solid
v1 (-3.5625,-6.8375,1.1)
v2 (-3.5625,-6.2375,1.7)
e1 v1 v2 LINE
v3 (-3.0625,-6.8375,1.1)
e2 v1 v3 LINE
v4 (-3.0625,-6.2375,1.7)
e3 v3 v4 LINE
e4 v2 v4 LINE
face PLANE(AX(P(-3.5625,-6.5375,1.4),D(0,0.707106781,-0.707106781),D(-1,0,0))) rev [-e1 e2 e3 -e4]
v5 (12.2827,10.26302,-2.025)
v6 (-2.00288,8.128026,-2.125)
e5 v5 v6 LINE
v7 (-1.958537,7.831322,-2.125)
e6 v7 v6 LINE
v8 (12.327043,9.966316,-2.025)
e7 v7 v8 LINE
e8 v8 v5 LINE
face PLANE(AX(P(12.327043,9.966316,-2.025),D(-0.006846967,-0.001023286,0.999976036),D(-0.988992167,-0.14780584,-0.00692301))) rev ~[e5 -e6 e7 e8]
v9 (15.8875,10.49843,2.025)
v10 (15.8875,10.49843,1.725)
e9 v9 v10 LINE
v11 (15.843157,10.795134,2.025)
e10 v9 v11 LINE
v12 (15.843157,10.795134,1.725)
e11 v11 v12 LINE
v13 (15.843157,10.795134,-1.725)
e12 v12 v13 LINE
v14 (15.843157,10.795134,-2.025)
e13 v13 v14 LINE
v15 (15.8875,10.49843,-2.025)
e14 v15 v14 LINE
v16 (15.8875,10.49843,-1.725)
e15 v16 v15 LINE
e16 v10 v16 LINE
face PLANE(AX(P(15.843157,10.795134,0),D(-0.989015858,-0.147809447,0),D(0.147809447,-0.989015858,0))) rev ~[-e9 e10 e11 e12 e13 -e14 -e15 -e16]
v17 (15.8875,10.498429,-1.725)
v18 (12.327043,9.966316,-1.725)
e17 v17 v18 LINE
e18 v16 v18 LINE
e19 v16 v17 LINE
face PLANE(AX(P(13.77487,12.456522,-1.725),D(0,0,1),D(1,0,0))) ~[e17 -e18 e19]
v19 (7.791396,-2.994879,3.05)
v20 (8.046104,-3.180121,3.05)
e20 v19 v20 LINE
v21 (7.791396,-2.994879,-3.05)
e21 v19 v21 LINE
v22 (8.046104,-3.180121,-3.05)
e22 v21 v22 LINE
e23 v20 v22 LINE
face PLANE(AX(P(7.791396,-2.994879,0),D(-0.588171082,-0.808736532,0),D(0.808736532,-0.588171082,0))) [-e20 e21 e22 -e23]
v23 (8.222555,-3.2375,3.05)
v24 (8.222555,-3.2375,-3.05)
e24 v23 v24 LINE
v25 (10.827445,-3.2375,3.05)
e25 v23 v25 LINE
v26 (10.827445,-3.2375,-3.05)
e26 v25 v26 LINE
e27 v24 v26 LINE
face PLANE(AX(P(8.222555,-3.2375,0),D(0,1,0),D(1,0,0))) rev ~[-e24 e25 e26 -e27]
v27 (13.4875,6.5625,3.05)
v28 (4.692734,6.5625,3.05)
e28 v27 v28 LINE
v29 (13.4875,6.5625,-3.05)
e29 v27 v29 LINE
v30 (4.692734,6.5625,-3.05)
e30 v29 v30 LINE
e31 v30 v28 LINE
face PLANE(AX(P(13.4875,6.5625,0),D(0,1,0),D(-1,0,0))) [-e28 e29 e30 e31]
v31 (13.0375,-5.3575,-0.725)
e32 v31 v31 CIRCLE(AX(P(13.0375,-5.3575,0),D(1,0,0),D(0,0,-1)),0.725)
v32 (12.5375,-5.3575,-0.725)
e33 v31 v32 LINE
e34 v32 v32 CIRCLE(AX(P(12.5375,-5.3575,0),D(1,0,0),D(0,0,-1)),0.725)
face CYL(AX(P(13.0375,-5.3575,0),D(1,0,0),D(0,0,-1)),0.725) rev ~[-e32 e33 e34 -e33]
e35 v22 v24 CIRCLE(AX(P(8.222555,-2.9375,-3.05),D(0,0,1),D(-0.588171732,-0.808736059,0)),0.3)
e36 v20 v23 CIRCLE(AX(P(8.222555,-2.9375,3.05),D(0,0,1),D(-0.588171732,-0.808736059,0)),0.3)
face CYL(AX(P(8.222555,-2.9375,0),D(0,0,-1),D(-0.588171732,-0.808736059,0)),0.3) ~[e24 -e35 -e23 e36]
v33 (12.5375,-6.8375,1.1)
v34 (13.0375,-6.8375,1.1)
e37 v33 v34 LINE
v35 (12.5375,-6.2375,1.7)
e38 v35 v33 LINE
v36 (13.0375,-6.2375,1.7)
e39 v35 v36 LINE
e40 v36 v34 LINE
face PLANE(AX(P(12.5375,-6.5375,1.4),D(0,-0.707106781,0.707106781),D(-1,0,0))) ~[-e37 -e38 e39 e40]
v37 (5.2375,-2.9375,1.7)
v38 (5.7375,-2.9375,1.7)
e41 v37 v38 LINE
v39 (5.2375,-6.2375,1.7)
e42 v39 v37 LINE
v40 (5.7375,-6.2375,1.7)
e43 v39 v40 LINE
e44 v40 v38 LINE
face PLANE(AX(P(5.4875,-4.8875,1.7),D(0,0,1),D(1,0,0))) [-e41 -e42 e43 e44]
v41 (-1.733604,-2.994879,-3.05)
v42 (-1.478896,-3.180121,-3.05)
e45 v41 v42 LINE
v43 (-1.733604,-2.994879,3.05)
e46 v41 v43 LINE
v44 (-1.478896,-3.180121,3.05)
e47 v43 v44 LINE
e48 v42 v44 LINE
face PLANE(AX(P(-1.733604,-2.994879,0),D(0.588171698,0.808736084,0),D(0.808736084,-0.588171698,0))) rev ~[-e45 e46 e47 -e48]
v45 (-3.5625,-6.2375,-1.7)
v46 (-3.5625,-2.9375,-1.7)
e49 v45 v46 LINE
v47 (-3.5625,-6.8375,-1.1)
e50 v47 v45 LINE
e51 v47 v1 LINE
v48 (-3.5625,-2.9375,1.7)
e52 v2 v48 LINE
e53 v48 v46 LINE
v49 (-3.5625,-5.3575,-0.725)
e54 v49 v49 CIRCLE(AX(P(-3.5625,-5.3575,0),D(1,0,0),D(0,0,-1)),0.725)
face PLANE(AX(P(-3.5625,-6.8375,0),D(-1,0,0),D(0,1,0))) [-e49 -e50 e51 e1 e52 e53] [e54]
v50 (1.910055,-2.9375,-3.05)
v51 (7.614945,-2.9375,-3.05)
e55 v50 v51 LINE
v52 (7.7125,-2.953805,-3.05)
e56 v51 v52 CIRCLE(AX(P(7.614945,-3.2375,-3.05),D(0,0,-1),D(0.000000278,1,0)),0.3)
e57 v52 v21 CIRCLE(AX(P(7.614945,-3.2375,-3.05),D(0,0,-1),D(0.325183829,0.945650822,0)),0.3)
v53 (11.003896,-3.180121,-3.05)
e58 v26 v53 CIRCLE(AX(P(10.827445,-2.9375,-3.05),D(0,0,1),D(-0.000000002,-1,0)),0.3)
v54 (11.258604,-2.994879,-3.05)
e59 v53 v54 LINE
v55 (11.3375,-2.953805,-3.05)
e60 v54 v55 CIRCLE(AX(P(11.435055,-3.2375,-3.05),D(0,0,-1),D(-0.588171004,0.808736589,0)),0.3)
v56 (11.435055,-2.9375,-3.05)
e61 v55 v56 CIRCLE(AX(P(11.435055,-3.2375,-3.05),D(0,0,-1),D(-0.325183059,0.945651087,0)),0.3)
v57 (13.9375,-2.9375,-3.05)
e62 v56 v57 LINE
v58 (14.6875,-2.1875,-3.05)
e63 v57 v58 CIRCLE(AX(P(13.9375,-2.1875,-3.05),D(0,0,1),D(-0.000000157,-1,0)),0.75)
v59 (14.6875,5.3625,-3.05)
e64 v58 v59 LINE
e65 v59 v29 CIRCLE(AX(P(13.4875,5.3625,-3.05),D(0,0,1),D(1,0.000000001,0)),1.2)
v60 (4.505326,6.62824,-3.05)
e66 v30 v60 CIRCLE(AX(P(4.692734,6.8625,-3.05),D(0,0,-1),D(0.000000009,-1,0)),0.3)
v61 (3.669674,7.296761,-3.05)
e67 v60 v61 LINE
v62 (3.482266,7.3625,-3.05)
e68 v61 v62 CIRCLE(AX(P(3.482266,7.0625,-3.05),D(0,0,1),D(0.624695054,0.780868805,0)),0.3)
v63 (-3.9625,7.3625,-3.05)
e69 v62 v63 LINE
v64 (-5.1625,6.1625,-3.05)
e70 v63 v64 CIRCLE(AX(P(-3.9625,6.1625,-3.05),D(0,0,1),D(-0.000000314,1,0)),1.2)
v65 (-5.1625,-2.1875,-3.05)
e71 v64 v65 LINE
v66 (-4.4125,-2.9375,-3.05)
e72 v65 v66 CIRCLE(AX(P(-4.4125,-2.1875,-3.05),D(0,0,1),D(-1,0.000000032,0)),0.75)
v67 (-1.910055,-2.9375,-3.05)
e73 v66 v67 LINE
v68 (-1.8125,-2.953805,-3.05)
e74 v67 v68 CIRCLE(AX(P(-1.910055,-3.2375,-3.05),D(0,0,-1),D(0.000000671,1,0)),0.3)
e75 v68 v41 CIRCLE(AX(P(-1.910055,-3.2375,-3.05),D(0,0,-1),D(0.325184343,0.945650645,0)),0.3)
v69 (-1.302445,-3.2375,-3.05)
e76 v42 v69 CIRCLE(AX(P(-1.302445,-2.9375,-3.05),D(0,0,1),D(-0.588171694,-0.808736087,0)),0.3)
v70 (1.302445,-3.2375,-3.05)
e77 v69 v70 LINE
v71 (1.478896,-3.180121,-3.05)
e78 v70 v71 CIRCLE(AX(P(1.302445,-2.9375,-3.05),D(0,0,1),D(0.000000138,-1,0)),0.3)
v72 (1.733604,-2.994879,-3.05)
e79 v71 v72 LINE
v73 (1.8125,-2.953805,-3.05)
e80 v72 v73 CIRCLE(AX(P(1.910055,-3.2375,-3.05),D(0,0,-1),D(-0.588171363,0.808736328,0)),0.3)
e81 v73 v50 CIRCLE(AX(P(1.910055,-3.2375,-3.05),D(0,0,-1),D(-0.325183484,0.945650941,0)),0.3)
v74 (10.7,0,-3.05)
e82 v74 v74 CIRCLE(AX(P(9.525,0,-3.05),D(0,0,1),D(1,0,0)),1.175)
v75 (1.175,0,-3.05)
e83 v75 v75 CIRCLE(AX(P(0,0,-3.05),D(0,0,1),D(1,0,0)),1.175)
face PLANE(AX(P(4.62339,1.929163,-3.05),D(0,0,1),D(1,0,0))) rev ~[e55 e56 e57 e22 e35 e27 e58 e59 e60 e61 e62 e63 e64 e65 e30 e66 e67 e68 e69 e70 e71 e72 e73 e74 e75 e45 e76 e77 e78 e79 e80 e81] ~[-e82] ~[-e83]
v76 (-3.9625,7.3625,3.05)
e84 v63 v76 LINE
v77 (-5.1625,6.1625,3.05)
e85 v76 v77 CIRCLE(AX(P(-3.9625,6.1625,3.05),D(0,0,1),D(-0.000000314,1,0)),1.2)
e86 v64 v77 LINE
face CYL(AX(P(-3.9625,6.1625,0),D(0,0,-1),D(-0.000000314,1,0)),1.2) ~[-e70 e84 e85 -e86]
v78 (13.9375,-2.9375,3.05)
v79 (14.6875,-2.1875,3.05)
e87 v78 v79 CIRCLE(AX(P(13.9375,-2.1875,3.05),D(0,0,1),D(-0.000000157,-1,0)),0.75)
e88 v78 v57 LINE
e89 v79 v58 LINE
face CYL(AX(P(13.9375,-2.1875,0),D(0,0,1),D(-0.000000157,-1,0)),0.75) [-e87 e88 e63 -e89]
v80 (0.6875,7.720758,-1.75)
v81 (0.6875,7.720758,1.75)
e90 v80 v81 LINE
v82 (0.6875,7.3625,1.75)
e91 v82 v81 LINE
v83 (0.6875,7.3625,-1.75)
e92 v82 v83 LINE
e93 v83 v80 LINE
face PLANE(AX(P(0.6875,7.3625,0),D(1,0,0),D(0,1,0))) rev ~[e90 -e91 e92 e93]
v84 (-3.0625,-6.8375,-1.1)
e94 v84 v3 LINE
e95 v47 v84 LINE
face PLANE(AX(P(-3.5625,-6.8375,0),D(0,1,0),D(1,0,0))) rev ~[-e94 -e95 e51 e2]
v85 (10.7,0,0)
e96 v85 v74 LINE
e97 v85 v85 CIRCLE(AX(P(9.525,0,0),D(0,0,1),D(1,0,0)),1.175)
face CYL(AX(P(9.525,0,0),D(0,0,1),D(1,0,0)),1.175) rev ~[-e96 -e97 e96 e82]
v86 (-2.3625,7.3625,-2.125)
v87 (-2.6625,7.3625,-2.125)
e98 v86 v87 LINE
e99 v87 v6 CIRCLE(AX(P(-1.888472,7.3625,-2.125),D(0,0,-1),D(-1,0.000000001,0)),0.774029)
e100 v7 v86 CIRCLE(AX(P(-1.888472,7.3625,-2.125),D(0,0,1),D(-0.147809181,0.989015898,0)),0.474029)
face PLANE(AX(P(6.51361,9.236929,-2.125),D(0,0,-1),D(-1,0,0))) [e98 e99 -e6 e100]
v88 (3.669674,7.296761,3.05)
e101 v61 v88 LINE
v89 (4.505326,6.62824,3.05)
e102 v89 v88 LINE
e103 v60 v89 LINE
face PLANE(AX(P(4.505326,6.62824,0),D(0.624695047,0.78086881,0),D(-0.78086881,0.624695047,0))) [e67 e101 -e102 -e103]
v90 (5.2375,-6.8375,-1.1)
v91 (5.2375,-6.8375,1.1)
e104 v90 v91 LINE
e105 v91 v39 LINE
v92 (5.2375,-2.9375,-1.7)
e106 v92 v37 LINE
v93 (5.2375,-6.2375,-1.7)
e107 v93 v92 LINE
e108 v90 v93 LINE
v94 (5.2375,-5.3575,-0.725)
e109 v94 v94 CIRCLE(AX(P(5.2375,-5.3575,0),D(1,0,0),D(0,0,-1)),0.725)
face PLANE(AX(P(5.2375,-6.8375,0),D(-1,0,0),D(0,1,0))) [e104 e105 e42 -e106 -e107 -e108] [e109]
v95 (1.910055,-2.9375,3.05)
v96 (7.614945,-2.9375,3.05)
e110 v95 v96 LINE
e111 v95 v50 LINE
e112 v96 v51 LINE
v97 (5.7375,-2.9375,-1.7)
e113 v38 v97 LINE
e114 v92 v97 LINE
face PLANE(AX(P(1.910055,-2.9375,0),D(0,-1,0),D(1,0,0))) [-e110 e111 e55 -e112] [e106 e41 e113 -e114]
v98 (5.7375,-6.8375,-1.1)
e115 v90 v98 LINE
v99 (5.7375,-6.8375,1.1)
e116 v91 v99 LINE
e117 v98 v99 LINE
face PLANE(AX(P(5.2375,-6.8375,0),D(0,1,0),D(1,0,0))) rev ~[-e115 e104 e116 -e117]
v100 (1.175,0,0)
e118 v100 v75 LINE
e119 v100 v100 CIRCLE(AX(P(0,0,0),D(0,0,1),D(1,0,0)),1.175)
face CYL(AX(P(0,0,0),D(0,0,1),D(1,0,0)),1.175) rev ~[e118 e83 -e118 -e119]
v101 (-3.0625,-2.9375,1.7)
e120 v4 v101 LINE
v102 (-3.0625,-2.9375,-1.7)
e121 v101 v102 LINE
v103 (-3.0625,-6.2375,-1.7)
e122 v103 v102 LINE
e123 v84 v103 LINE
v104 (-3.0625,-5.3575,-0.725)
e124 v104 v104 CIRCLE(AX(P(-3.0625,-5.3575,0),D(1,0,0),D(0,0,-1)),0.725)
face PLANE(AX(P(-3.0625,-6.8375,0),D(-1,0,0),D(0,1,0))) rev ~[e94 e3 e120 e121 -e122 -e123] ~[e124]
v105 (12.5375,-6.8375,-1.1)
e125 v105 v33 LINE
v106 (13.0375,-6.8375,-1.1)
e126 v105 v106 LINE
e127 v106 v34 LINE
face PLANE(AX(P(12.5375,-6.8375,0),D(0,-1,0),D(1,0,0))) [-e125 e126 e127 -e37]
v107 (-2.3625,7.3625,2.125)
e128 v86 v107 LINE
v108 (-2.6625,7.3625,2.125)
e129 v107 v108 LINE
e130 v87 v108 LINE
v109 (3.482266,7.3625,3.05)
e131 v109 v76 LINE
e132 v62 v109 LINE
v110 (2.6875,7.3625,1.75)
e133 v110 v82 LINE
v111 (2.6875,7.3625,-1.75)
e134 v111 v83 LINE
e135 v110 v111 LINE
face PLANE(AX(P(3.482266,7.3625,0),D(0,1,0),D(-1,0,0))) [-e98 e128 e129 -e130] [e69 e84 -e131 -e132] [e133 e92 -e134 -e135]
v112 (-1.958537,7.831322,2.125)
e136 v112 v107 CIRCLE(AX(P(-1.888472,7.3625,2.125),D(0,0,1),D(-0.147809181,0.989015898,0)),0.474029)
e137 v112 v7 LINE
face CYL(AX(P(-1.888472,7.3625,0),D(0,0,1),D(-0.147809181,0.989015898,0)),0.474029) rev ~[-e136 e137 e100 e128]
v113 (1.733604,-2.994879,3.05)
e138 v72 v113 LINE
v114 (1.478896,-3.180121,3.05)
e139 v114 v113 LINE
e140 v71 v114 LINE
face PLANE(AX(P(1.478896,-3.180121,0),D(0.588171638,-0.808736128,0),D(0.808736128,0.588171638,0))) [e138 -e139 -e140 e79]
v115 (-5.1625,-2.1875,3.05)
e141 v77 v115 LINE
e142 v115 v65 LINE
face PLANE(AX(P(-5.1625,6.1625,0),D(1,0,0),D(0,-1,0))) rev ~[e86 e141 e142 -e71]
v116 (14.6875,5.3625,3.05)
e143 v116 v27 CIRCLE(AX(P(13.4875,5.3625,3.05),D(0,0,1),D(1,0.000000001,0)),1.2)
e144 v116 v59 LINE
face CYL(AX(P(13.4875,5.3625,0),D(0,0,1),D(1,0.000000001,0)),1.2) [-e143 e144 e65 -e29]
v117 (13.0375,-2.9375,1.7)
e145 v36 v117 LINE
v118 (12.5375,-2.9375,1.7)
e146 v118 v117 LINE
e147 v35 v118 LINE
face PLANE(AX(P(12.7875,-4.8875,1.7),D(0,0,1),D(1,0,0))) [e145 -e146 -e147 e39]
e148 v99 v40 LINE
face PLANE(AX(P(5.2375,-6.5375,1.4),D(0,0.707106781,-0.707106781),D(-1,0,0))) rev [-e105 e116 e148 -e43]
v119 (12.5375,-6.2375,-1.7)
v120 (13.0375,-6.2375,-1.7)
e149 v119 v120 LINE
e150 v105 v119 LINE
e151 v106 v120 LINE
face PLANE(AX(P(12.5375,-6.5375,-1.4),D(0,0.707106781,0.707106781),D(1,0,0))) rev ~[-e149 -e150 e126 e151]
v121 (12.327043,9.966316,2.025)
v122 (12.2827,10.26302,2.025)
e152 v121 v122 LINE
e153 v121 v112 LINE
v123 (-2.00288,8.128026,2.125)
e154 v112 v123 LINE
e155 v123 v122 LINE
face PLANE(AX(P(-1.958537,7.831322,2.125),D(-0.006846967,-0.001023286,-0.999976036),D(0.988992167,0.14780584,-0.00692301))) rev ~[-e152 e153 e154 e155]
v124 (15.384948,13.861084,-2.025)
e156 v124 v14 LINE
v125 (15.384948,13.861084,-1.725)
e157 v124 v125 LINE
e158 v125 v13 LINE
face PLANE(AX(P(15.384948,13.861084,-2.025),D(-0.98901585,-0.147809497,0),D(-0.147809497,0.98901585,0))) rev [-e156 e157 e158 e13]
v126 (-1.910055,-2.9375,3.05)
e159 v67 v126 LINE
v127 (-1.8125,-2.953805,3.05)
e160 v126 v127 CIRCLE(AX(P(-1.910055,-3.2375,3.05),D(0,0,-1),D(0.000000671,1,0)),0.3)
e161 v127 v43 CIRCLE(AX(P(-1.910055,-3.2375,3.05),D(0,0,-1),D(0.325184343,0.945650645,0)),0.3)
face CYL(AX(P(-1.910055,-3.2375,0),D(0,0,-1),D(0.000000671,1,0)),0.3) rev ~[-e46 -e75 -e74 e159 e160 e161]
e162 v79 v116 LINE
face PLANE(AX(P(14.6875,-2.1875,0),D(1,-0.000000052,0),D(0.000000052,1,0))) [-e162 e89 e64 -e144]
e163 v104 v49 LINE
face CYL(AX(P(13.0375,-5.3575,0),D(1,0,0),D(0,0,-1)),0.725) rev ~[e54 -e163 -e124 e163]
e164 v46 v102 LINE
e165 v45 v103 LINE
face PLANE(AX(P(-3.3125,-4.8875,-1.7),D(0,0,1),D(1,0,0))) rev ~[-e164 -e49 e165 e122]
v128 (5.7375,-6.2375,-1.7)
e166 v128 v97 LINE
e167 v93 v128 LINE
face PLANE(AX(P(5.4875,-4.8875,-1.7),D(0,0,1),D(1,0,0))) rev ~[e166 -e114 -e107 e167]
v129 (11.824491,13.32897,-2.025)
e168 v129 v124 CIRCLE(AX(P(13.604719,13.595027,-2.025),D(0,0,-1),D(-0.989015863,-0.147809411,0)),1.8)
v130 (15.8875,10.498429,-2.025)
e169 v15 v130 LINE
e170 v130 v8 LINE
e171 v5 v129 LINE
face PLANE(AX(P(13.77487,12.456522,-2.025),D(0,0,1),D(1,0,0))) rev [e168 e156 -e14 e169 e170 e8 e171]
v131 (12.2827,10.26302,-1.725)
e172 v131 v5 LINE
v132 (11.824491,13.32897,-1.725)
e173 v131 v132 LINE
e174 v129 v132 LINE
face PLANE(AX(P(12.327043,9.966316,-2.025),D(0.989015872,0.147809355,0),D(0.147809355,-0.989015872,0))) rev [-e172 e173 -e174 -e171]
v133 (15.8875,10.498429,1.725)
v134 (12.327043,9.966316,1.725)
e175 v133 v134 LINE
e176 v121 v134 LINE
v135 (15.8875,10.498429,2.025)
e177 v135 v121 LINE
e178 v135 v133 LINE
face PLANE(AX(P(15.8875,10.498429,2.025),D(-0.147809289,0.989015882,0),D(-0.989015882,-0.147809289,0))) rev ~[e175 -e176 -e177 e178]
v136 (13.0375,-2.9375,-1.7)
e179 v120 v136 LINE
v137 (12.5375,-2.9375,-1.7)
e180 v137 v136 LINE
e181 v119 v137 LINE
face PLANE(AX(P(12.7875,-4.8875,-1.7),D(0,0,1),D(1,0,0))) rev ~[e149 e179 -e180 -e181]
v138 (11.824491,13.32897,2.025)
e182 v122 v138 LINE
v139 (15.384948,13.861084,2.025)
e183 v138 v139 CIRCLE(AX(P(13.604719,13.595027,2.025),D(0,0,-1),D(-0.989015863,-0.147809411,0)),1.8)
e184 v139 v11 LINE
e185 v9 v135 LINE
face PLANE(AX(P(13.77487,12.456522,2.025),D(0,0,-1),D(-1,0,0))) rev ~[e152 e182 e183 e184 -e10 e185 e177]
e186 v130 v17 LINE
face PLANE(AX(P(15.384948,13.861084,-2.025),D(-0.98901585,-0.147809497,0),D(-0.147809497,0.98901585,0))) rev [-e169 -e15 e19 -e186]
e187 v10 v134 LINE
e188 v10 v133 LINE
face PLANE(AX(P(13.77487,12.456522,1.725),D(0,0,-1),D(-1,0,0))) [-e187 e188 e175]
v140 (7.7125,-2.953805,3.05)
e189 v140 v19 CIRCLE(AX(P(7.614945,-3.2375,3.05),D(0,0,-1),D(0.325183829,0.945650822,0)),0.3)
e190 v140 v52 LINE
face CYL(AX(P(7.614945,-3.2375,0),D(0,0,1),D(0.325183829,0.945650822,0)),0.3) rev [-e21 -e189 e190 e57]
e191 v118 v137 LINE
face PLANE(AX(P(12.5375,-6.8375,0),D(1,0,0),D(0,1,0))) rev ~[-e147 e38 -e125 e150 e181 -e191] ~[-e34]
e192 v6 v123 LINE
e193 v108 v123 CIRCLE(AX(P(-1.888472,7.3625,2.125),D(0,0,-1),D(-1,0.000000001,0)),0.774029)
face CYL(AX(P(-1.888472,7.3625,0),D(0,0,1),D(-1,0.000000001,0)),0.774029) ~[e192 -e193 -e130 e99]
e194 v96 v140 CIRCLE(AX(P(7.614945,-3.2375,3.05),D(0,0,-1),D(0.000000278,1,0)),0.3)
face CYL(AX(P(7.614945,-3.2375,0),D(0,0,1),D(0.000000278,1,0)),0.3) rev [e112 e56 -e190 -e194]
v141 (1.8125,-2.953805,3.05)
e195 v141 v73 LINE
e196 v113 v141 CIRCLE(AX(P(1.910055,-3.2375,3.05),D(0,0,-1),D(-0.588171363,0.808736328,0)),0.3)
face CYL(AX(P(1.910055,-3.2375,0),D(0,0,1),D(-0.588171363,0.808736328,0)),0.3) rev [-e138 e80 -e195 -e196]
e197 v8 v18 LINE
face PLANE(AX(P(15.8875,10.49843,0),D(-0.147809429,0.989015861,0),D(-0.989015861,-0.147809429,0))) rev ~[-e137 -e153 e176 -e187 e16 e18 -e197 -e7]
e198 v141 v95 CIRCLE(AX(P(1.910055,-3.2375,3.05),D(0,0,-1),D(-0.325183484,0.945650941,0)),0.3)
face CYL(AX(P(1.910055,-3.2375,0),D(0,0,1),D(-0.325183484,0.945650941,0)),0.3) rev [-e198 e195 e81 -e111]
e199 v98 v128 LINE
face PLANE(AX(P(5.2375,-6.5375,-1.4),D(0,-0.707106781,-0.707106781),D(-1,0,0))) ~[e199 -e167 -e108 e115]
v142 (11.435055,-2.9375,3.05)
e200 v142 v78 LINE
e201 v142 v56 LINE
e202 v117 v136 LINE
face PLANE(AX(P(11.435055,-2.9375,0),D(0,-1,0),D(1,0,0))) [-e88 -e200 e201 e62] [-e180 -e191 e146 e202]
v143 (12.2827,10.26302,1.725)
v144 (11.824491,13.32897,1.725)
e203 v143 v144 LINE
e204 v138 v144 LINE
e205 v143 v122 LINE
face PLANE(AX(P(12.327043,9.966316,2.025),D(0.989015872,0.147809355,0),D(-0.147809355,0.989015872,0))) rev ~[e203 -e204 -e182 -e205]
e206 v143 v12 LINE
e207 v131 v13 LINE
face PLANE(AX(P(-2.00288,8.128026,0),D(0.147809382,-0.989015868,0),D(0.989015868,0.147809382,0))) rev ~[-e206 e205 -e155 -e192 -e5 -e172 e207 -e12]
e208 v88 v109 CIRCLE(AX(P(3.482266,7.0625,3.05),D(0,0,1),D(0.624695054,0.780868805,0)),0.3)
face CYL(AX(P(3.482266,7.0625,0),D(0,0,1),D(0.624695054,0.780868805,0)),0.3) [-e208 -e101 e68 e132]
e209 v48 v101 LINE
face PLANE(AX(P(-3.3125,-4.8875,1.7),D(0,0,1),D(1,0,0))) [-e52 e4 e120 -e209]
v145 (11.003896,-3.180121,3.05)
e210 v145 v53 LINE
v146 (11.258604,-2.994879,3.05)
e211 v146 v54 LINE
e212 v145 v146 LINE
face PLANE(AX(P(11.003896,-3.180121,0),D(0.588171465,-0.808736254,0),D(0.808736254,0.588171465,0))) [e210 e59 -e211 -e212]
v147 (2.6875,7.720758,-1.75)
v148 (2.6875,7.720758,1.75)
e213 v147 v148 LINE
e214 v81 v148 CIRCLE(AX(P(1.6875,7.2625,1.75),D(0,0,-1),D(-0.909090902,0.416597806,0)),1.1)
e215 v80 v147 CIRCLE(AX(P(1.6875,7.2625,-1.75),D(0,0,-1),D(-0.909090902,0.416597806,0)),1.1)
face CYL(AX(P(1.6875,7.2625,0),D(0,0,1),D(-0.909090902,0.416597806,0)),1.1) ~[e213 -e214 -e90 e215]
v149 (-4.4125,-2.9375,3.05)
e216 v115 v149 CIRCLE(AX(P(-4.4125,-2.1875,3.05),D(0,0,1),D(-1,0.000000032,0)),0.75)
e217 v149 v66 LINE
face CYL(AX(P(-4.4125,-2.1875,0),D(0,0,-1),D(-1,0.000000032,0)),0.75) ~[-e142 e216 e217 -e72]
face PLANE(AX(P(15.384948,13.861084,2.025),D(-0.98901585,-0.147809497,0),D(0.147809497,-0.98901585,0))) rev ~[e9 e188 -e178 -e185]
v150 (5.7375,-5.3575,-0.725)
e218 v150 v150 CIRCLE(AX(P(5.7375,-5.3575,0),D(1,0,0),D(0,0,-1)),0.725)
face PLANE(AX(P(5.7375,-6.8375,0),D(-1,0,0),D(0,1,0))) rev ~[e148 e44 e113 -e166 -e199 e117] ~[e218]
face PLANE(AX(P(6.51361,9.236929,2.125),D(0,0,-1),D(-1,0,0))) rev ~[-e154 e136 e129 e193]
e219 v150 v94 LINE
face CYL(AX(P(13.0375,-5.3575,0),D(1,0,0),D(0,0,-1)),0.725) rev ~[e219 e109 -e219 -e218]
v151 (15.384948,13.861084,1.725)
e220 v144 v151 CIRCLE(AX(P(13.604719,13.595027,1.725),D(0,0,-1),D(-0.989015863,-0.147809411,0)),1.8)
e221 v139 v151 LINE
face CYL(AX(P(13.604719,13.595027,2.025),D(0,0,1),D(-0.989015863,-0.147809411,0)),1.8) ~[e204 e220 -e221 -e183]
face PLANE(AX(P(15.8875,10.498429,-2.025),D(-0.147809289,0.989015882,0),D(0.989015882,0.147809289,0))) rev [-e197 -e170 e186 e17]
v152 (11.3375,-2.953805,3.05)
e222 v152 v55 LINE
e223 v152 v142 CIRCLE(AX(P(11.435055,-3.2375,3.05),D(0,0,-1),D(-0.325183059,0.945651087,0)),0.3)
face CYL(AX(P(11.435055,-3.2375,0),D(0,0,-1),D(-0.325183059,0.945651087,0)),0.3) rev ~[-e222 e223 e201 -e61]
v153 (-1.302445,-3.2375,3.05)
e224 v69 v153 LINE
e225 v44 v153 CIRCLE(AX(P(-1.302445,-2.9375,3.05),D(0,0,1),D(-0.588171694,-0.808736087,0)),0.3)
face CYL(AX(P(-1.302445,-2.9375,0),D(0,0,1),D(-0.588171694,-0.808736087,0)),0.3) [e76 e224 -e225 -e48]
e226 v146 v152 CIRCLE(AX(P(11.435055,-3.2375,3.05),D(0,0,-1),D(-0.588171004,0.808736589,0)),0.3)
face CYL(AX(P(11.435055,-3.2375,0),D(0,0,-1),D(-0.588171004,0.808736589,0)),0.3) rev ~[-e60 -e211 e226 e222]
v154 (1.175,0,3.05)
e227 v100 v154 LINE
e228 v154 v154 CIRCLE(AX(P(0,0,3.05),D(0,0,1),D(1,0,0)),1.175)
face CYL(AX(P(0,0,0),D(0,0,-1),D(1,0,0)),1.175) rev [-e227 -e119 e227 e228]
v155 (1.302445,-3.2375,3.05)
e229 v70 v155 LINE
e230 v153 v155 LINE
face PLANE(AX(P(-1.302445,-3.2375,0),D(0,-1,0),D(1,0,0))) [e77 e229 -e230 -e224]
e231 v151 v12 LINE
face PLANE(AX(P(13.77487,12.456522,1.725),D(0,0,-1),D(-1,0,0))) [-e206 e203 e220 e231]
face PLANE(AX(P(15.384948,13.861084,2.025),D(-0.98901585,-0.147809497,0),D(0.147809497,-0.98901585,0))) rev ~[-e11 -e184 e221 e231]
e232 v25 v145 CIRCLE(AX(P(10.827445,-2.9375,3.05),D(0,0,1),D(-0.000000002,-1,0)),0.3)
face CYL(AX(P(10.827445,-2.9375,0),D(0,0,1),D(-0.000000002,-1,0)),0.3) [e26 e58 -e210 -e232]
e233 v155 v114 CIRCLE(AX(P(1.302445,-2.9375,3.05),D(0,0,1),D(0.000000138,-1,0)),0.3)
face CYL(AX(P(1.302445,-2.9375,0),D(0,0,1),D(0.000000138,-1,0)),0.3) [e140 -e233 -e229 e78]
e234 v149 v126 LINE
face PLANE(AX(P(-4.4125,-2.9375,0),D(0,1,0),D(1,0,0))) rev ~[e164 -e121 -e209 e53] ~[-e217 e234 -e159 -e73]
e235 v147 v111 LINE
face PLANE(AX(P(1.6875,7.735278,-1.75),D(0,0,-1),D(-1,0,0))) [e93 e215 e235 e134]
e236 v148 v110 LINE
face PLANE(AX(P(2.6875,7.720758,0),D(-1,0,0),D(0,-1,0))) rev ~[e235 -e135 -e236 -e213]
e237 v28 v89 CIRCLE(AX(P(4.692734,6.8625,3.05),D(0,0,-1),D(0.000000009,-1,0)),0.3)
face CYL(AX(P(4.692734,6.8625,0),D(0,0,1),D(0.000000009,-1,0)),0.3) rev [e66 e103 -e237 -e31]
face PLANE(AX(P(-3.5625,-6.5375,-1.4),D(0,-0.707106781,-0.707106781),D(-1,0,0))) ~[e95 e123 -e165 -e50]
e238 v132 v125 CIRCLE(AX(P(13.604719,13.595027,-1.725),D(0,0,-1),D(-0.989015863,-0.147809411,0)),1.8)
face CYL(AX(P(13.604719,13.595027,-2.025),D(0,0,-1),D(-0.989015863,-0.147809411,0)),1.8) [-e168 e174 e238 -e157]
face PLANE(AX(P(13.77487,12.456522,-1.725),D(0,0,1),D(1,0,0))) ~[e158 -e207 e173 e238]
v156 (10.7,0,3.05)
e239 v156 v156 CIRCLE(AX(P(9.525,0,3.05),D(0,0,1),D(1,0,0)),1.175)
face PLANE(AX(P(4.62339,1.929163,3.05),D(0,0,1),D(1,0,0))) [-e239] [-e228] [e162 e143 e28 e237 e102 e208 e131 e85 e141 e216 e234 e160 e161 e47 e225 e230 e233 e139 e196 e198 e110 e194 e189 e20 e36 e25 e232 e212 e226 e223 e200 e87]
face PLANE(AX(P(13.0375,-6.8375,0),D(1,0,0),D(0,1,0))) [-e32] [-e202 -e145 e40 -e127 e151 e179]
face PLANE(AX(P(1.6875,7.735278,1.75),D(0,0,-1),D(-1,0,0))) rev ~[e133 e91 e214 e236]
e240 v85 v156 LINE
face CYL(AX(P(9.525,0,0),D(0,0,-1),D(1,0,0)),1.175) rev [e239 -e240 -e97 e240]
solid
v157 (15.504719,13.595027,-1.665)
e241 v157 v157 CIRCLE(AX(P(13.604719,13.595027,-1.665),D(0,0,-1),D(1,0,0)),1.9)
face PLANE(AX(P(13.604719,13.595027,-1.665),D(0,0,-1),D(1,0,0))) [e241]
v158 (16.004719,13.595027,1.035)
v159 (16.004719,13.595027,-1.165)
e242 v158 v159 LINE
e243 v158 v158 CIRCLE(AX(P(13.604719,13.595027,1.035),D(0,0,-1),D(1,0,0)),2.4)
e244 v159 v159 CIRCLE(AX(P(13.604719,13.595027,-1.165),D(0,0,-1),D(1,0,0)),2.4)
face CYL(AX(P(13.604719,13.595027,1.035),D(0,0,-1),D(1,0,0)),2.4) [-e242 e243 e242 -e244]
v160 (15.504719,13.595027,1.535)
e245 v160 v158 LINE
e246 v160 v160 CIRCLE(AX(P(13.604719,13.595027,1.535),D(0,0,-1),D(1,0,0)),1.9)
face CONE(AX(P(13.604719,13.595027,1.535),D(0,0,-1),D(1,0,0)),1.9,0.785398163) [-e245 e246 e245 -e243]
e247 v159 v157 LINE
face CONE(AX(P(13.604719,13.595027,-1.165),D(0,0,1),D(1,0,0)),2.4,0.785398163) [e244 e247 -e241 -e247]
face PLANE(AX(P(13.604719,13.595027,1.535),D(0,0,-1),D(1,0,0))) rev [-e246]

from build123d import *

# Parameters (mm, degrees)
SKETCH_2_R          = 1.175
EXTRUDE_1_DEPTH     = 3.05
SKETCH_3_W          = 0.500000082
SKETCH_3_H          = 3.90000036
SKETCH_3_W_2        = 0.500000024
SKETCH_3_W_3        = 0.499999151
EXTRUDE_2_DEPTH     = 1.7
CHAMFER_1_SIZE      = 0.6
SKETCH_4_R          = 0.725
CUT_EXTRUDE_1_DEPTH = 20.868288851
EXTRUDE_3_DEPTH     = 2.125
CUT_EXTRUDE_START   = -0.3
CUT_EXTRUDE_2_DEPTH = 0.3
EXTRUDE_4_DEPTH     = 0.3
EXTRUDE_5_DEPTH     = 1.75


with BuildPart() as part:
    # 草图2 → 凸台-拉伸1 (new, symmetric)
    with BuildSketch(Plane.XY):
        with BuildLine():
            Line((13.487499724, 6.562500338), (4.69273426, 6.562500338))
            ThreePointArc((4.69273426, 6.562500338), (4.593432177, 6.579411842), (4.505325746, 6.628239695))
            Line((4.505325746, 6.628239695), (3.669674138, 7.296760981))
            ThreePointArc((3.669674138, 7.296760981), (3.581567707, 7.345588834), (3.482265624, 7.362500338))
            Line((3.482265624, 7.362500338), (-3.962500435, 7.362500338))
            ThreePointArc((-3.962500435, 7.362500338), (-4.811028502, 7.011028231), (-5.162500208, 6.162499997))
            Line((-5.162500208, 6.162499997), (-5.162500208, -2.187499788))
            ThreePointArc((-5.162500208, -2.187499788), (-4.942830121, -2.717830133), (-4.412499671, -2.937499962))
            Line((-4.412499671, -2.937499962), (-1.910055005, -2.937499962))
            ThreePointArc((-1.910055005, -2.937499962), (-1.860600884, -2.941604254), (-1.812499919, -2.953804763))
            ThreePointArc((-1.812499919, -2.953804763), (-1.771521076, -2.971401684), (-1.73360371, -2.994879131))
            Line((-1.73360371, -2.994879131), (-1.47889644, -3.180120782))
            ThreePointArc((-1.47889644, -3.180120782), (-1.395218116, -3.222794781), (-1.302444791, -3.237499962))
            Line((-1.302444791, -3.237499962), (1.302444797, -3.237499962))
            ThreePointArc((1.302444797, -3.237499962), (1.395218044, -3.222794752), (1.478896294, -3.180120768))
            Line((1.478896294, -3.180120768), (1.733603576, -2.994879137))
            ThreePointArc((1.733603576, -2.994879137), (1.771521006, -2.971401677), (1.812499919, -2.953804763))
            ThreePointArc((1.812499919, -2.953804763), (1.860600869, -2.9416043), (1.910054967, -2.937500048))
            Line((1.910054967, -2.937500048), (7.61494474, -2.937500048))
            ThreePointArc((7.61494474, -2.937500048), (7.664398838, -2.941604317), (7.712499786, -2.953804797))
            ThreePointArc((7.712499786, -2.953804797), (7.753478741, -2.97140175), (7.791396204, -2.994879262))
            Line((7.791396204, -2.994879262), (8.046103615, -3.180120719))
            ThreePointArc((8.046103615, -3.180120719), (8.129781833, -3.222794684), (8.222555042, -3.237499892))
            Line((8.222555042, -3.237499892), (10.827444745, -3.237499892))
            ThreePointArc((10.827444745, -3.237499892), (10.920217939, -3.22279471), (11.003896153, -3.18012078))
            Line((11.003896153, -3.18012078), (11.25860355, -2.994879149))
            ThreePointArc((11.25860355, -2.994879149), (11.296520992, -2.971401705), (11.337499914, -2.953804809))
            ThreePointArc((11.337499914, -2.953804809), (11.385600857, -2.94160437), (11.435054945, -2.937500139))
            Line((11.435054945, -2.937500139), (13.93749961, -2.937500139))
            ThreePointArc((13.93749961, -2.937500139), (14.467829886, -2.717830091), (14.687499579, -2.187499669))
            Line((14.687499579, -2.187499669), (14.687499973, 5.362500307))
            ThreePointArc((14.687499973, 5.362500307), (14.336028024, 6.211028543), (13.487499724, 6.562500338))
        make_face()
        Circle(SKETCH_2_R, mode=Mode.SUBTRACT)
        with Locations((9.524999919, 0)):
            Circle(SKETCH_2_R, mode=Mode.SUBTRACT)
    extrude(amount=EXTRUDE_1_DEPTH, both=True)

    # 草图3 → 凸台-拉伸2 (add, symmetric)
    with BuildSketch(Plane.XY):
        with Locations((-3.312500165, -4.887500279)):
            Rectangle(SKETCH_3_W, SKETCH_3_H)
        with Locations((5.487499933, -4.887500279)):
            Rectangle(SKETCH_3_W_2, SKETCH_3_H)
        with Locations((12.787499959, -4.887500279)):
            Rectangle(SKETCH_3_W_3, SKETCH_3_H)
    extrude(amount=EXTRUDE_2_DEPTH, both=True)

    # 倒角1
    chamfer_1_edges = [part.edges().sort_by_distance(p)[0] for p in [
        (5.487499933, -6.837500459, -1.7),
        (5.487499933, -6.837500459, 1.7),
        (12.787499959, -6.837500459, -1.7),
        (12.787499959, -6.837500459, 1.7),
        (-3.312500165, -6.837500459, -1.7),
        (-3.312500165, -6.837500459, 1.7),
    ]]
    chamfer(chamfer_1_edges, length=CHAMFER_1_SIZE)

    # 草图4 → 切除-拉伸1 (cut, through all)
    with BuildSketch(Plane(origin=(13.037499535, 0, 0), x_dir=(0, 0, -1), z_dir=(1, 0, 0))):
        with Locations((0, -5.357500459)):
            Circle(SKETCH_4_R)
    extrude(amount=-CUT_EXTRUDE_1_DEPTH, mode=Mode.SUBTRACT)

    # 草图5 → 凸台-拉伸3 (add, symmetric)
    with BuildSketch(Plane.XY):
        with BuildLine():
            Line((-2.00288027, 8.128026474), (15.843157285, 10.795134123))
            Line((15.843157285, 10.795134123), (15.887499977, 10.498430316))
            Line((15.887499977, 10.498430316), (-1.958537352, 7.83132183))
            ThreePointArc((-1.958537352, 7.83132183), (-2.247579011, 7.671926839), (-2.36250018, 7.3625))
            Line((-2.36250018, 7.3625), (-2.662500081, 7.3625))
            ThreePointArc((-2.662500081, 7.3625), (-2.474848467, 7.867754658), (-2.00288027, 8.128026474))
        make_face()
    extrude(amount=EXTRUDE_3_DEPTH, both=True)

    # 草图6 → 切除-拉伸2 (cut)
    with BuildSketch(Plane(origin=(-1.231960405, 8.243241197, 0), x_dir=(0.9890158676886913, 0.14780938217848383, 0), z_dir=(-0.1478093821784838, 0.9890158676886912, 0)).offset(CUT_EXTRUDE_START)):
        Polygon((17.264756054, 2.025), (13.664756054, 2.025), (-0.779481797, 2.125), (17.264756054, 2.125), align=None)
        Polygon((13.664756054, -2.025), (17.264756054, -2.025), (17.264756054, -2.125), (-0.779481797, -2.125), align=None)
    extrude(amount=CUT_EXTRUDE_2_DEPTH, mode=Mode.SUBTRACT)

    # 草图7 → 凸台-拉伸4 (add)
    with BuildSketch(Plane.XY.offset(2.025)):
        with BuildLine():
            Line((15.384947921, 13.861083805), (15.887500281, 10.498429449))
            Line((15.887500281, 10.498429449), (12.327042625, 9.966315937))
            Line((12.327042625, 9.966315937), (11.824490813, 13.328969925))
            ThreePointArc((11.824490813, 13.328969925), (13.338662427, 15.375255419), (15.384947921, 13.861083805))
        make_face()
    extrude_4 = extrude(amount=-EXTRUDE_4_DEPTH)

    # 镜向2: 凸台-拉伸4 across plane
    add(extrude_4.mirror(Plane.XY))

    # 草图9 → 凸台-拉伸5 (add, symmetric)
    with BuildSketch(Plane.XY):
        with BuildLine():
            Line((2.687499919, 7.720757525), (2.687499919, 7.362500054))
            Line((2.687499919, 7.362500054), (0.687500025, 7.362500099))
            Line((0.687500025, 7.362500099), (0.687500025, 7.720757542))
            ThreePointArc((0.687500025, 7.720757542), (1.687499978, 8.362499924), (2.687499919, 7.720757525))
        make_face()
    extrude(amount=EXTRUDE_5_DEPTH, both=True)


with BuildPart() as body_2:
    # 草图8 → 旋转1 (revolve)
    with BuildSketch(Plane(origin=(-1.69016956, 11.309190857, 0), x_dir=(0.9890158676886913, 0.14780938217848383, 0), z_dir=(-0.1478093821784838, 0.9890158676886912, 0)), mode=Mode.PRIVATE) as revolve_1_sk:
        Polygon((15.464755851, 1.665), (15.464755851, -1.535), (13.564755851, -1.535), (13.064755851, -1.035), (13.064755851, 1.165), (13.564755851, 1.665), align=None)
    revolve(revolve_1_sk.sketch.rotate(Axis((13.604719367, 13.595026865, -1.725), (0, 0, -1)), 188.499998323), axis=Axis((13.604719367, 13.595026865, -1.725), (0, 0, -1)))


solid = Compound([part.part, body_2.part])
